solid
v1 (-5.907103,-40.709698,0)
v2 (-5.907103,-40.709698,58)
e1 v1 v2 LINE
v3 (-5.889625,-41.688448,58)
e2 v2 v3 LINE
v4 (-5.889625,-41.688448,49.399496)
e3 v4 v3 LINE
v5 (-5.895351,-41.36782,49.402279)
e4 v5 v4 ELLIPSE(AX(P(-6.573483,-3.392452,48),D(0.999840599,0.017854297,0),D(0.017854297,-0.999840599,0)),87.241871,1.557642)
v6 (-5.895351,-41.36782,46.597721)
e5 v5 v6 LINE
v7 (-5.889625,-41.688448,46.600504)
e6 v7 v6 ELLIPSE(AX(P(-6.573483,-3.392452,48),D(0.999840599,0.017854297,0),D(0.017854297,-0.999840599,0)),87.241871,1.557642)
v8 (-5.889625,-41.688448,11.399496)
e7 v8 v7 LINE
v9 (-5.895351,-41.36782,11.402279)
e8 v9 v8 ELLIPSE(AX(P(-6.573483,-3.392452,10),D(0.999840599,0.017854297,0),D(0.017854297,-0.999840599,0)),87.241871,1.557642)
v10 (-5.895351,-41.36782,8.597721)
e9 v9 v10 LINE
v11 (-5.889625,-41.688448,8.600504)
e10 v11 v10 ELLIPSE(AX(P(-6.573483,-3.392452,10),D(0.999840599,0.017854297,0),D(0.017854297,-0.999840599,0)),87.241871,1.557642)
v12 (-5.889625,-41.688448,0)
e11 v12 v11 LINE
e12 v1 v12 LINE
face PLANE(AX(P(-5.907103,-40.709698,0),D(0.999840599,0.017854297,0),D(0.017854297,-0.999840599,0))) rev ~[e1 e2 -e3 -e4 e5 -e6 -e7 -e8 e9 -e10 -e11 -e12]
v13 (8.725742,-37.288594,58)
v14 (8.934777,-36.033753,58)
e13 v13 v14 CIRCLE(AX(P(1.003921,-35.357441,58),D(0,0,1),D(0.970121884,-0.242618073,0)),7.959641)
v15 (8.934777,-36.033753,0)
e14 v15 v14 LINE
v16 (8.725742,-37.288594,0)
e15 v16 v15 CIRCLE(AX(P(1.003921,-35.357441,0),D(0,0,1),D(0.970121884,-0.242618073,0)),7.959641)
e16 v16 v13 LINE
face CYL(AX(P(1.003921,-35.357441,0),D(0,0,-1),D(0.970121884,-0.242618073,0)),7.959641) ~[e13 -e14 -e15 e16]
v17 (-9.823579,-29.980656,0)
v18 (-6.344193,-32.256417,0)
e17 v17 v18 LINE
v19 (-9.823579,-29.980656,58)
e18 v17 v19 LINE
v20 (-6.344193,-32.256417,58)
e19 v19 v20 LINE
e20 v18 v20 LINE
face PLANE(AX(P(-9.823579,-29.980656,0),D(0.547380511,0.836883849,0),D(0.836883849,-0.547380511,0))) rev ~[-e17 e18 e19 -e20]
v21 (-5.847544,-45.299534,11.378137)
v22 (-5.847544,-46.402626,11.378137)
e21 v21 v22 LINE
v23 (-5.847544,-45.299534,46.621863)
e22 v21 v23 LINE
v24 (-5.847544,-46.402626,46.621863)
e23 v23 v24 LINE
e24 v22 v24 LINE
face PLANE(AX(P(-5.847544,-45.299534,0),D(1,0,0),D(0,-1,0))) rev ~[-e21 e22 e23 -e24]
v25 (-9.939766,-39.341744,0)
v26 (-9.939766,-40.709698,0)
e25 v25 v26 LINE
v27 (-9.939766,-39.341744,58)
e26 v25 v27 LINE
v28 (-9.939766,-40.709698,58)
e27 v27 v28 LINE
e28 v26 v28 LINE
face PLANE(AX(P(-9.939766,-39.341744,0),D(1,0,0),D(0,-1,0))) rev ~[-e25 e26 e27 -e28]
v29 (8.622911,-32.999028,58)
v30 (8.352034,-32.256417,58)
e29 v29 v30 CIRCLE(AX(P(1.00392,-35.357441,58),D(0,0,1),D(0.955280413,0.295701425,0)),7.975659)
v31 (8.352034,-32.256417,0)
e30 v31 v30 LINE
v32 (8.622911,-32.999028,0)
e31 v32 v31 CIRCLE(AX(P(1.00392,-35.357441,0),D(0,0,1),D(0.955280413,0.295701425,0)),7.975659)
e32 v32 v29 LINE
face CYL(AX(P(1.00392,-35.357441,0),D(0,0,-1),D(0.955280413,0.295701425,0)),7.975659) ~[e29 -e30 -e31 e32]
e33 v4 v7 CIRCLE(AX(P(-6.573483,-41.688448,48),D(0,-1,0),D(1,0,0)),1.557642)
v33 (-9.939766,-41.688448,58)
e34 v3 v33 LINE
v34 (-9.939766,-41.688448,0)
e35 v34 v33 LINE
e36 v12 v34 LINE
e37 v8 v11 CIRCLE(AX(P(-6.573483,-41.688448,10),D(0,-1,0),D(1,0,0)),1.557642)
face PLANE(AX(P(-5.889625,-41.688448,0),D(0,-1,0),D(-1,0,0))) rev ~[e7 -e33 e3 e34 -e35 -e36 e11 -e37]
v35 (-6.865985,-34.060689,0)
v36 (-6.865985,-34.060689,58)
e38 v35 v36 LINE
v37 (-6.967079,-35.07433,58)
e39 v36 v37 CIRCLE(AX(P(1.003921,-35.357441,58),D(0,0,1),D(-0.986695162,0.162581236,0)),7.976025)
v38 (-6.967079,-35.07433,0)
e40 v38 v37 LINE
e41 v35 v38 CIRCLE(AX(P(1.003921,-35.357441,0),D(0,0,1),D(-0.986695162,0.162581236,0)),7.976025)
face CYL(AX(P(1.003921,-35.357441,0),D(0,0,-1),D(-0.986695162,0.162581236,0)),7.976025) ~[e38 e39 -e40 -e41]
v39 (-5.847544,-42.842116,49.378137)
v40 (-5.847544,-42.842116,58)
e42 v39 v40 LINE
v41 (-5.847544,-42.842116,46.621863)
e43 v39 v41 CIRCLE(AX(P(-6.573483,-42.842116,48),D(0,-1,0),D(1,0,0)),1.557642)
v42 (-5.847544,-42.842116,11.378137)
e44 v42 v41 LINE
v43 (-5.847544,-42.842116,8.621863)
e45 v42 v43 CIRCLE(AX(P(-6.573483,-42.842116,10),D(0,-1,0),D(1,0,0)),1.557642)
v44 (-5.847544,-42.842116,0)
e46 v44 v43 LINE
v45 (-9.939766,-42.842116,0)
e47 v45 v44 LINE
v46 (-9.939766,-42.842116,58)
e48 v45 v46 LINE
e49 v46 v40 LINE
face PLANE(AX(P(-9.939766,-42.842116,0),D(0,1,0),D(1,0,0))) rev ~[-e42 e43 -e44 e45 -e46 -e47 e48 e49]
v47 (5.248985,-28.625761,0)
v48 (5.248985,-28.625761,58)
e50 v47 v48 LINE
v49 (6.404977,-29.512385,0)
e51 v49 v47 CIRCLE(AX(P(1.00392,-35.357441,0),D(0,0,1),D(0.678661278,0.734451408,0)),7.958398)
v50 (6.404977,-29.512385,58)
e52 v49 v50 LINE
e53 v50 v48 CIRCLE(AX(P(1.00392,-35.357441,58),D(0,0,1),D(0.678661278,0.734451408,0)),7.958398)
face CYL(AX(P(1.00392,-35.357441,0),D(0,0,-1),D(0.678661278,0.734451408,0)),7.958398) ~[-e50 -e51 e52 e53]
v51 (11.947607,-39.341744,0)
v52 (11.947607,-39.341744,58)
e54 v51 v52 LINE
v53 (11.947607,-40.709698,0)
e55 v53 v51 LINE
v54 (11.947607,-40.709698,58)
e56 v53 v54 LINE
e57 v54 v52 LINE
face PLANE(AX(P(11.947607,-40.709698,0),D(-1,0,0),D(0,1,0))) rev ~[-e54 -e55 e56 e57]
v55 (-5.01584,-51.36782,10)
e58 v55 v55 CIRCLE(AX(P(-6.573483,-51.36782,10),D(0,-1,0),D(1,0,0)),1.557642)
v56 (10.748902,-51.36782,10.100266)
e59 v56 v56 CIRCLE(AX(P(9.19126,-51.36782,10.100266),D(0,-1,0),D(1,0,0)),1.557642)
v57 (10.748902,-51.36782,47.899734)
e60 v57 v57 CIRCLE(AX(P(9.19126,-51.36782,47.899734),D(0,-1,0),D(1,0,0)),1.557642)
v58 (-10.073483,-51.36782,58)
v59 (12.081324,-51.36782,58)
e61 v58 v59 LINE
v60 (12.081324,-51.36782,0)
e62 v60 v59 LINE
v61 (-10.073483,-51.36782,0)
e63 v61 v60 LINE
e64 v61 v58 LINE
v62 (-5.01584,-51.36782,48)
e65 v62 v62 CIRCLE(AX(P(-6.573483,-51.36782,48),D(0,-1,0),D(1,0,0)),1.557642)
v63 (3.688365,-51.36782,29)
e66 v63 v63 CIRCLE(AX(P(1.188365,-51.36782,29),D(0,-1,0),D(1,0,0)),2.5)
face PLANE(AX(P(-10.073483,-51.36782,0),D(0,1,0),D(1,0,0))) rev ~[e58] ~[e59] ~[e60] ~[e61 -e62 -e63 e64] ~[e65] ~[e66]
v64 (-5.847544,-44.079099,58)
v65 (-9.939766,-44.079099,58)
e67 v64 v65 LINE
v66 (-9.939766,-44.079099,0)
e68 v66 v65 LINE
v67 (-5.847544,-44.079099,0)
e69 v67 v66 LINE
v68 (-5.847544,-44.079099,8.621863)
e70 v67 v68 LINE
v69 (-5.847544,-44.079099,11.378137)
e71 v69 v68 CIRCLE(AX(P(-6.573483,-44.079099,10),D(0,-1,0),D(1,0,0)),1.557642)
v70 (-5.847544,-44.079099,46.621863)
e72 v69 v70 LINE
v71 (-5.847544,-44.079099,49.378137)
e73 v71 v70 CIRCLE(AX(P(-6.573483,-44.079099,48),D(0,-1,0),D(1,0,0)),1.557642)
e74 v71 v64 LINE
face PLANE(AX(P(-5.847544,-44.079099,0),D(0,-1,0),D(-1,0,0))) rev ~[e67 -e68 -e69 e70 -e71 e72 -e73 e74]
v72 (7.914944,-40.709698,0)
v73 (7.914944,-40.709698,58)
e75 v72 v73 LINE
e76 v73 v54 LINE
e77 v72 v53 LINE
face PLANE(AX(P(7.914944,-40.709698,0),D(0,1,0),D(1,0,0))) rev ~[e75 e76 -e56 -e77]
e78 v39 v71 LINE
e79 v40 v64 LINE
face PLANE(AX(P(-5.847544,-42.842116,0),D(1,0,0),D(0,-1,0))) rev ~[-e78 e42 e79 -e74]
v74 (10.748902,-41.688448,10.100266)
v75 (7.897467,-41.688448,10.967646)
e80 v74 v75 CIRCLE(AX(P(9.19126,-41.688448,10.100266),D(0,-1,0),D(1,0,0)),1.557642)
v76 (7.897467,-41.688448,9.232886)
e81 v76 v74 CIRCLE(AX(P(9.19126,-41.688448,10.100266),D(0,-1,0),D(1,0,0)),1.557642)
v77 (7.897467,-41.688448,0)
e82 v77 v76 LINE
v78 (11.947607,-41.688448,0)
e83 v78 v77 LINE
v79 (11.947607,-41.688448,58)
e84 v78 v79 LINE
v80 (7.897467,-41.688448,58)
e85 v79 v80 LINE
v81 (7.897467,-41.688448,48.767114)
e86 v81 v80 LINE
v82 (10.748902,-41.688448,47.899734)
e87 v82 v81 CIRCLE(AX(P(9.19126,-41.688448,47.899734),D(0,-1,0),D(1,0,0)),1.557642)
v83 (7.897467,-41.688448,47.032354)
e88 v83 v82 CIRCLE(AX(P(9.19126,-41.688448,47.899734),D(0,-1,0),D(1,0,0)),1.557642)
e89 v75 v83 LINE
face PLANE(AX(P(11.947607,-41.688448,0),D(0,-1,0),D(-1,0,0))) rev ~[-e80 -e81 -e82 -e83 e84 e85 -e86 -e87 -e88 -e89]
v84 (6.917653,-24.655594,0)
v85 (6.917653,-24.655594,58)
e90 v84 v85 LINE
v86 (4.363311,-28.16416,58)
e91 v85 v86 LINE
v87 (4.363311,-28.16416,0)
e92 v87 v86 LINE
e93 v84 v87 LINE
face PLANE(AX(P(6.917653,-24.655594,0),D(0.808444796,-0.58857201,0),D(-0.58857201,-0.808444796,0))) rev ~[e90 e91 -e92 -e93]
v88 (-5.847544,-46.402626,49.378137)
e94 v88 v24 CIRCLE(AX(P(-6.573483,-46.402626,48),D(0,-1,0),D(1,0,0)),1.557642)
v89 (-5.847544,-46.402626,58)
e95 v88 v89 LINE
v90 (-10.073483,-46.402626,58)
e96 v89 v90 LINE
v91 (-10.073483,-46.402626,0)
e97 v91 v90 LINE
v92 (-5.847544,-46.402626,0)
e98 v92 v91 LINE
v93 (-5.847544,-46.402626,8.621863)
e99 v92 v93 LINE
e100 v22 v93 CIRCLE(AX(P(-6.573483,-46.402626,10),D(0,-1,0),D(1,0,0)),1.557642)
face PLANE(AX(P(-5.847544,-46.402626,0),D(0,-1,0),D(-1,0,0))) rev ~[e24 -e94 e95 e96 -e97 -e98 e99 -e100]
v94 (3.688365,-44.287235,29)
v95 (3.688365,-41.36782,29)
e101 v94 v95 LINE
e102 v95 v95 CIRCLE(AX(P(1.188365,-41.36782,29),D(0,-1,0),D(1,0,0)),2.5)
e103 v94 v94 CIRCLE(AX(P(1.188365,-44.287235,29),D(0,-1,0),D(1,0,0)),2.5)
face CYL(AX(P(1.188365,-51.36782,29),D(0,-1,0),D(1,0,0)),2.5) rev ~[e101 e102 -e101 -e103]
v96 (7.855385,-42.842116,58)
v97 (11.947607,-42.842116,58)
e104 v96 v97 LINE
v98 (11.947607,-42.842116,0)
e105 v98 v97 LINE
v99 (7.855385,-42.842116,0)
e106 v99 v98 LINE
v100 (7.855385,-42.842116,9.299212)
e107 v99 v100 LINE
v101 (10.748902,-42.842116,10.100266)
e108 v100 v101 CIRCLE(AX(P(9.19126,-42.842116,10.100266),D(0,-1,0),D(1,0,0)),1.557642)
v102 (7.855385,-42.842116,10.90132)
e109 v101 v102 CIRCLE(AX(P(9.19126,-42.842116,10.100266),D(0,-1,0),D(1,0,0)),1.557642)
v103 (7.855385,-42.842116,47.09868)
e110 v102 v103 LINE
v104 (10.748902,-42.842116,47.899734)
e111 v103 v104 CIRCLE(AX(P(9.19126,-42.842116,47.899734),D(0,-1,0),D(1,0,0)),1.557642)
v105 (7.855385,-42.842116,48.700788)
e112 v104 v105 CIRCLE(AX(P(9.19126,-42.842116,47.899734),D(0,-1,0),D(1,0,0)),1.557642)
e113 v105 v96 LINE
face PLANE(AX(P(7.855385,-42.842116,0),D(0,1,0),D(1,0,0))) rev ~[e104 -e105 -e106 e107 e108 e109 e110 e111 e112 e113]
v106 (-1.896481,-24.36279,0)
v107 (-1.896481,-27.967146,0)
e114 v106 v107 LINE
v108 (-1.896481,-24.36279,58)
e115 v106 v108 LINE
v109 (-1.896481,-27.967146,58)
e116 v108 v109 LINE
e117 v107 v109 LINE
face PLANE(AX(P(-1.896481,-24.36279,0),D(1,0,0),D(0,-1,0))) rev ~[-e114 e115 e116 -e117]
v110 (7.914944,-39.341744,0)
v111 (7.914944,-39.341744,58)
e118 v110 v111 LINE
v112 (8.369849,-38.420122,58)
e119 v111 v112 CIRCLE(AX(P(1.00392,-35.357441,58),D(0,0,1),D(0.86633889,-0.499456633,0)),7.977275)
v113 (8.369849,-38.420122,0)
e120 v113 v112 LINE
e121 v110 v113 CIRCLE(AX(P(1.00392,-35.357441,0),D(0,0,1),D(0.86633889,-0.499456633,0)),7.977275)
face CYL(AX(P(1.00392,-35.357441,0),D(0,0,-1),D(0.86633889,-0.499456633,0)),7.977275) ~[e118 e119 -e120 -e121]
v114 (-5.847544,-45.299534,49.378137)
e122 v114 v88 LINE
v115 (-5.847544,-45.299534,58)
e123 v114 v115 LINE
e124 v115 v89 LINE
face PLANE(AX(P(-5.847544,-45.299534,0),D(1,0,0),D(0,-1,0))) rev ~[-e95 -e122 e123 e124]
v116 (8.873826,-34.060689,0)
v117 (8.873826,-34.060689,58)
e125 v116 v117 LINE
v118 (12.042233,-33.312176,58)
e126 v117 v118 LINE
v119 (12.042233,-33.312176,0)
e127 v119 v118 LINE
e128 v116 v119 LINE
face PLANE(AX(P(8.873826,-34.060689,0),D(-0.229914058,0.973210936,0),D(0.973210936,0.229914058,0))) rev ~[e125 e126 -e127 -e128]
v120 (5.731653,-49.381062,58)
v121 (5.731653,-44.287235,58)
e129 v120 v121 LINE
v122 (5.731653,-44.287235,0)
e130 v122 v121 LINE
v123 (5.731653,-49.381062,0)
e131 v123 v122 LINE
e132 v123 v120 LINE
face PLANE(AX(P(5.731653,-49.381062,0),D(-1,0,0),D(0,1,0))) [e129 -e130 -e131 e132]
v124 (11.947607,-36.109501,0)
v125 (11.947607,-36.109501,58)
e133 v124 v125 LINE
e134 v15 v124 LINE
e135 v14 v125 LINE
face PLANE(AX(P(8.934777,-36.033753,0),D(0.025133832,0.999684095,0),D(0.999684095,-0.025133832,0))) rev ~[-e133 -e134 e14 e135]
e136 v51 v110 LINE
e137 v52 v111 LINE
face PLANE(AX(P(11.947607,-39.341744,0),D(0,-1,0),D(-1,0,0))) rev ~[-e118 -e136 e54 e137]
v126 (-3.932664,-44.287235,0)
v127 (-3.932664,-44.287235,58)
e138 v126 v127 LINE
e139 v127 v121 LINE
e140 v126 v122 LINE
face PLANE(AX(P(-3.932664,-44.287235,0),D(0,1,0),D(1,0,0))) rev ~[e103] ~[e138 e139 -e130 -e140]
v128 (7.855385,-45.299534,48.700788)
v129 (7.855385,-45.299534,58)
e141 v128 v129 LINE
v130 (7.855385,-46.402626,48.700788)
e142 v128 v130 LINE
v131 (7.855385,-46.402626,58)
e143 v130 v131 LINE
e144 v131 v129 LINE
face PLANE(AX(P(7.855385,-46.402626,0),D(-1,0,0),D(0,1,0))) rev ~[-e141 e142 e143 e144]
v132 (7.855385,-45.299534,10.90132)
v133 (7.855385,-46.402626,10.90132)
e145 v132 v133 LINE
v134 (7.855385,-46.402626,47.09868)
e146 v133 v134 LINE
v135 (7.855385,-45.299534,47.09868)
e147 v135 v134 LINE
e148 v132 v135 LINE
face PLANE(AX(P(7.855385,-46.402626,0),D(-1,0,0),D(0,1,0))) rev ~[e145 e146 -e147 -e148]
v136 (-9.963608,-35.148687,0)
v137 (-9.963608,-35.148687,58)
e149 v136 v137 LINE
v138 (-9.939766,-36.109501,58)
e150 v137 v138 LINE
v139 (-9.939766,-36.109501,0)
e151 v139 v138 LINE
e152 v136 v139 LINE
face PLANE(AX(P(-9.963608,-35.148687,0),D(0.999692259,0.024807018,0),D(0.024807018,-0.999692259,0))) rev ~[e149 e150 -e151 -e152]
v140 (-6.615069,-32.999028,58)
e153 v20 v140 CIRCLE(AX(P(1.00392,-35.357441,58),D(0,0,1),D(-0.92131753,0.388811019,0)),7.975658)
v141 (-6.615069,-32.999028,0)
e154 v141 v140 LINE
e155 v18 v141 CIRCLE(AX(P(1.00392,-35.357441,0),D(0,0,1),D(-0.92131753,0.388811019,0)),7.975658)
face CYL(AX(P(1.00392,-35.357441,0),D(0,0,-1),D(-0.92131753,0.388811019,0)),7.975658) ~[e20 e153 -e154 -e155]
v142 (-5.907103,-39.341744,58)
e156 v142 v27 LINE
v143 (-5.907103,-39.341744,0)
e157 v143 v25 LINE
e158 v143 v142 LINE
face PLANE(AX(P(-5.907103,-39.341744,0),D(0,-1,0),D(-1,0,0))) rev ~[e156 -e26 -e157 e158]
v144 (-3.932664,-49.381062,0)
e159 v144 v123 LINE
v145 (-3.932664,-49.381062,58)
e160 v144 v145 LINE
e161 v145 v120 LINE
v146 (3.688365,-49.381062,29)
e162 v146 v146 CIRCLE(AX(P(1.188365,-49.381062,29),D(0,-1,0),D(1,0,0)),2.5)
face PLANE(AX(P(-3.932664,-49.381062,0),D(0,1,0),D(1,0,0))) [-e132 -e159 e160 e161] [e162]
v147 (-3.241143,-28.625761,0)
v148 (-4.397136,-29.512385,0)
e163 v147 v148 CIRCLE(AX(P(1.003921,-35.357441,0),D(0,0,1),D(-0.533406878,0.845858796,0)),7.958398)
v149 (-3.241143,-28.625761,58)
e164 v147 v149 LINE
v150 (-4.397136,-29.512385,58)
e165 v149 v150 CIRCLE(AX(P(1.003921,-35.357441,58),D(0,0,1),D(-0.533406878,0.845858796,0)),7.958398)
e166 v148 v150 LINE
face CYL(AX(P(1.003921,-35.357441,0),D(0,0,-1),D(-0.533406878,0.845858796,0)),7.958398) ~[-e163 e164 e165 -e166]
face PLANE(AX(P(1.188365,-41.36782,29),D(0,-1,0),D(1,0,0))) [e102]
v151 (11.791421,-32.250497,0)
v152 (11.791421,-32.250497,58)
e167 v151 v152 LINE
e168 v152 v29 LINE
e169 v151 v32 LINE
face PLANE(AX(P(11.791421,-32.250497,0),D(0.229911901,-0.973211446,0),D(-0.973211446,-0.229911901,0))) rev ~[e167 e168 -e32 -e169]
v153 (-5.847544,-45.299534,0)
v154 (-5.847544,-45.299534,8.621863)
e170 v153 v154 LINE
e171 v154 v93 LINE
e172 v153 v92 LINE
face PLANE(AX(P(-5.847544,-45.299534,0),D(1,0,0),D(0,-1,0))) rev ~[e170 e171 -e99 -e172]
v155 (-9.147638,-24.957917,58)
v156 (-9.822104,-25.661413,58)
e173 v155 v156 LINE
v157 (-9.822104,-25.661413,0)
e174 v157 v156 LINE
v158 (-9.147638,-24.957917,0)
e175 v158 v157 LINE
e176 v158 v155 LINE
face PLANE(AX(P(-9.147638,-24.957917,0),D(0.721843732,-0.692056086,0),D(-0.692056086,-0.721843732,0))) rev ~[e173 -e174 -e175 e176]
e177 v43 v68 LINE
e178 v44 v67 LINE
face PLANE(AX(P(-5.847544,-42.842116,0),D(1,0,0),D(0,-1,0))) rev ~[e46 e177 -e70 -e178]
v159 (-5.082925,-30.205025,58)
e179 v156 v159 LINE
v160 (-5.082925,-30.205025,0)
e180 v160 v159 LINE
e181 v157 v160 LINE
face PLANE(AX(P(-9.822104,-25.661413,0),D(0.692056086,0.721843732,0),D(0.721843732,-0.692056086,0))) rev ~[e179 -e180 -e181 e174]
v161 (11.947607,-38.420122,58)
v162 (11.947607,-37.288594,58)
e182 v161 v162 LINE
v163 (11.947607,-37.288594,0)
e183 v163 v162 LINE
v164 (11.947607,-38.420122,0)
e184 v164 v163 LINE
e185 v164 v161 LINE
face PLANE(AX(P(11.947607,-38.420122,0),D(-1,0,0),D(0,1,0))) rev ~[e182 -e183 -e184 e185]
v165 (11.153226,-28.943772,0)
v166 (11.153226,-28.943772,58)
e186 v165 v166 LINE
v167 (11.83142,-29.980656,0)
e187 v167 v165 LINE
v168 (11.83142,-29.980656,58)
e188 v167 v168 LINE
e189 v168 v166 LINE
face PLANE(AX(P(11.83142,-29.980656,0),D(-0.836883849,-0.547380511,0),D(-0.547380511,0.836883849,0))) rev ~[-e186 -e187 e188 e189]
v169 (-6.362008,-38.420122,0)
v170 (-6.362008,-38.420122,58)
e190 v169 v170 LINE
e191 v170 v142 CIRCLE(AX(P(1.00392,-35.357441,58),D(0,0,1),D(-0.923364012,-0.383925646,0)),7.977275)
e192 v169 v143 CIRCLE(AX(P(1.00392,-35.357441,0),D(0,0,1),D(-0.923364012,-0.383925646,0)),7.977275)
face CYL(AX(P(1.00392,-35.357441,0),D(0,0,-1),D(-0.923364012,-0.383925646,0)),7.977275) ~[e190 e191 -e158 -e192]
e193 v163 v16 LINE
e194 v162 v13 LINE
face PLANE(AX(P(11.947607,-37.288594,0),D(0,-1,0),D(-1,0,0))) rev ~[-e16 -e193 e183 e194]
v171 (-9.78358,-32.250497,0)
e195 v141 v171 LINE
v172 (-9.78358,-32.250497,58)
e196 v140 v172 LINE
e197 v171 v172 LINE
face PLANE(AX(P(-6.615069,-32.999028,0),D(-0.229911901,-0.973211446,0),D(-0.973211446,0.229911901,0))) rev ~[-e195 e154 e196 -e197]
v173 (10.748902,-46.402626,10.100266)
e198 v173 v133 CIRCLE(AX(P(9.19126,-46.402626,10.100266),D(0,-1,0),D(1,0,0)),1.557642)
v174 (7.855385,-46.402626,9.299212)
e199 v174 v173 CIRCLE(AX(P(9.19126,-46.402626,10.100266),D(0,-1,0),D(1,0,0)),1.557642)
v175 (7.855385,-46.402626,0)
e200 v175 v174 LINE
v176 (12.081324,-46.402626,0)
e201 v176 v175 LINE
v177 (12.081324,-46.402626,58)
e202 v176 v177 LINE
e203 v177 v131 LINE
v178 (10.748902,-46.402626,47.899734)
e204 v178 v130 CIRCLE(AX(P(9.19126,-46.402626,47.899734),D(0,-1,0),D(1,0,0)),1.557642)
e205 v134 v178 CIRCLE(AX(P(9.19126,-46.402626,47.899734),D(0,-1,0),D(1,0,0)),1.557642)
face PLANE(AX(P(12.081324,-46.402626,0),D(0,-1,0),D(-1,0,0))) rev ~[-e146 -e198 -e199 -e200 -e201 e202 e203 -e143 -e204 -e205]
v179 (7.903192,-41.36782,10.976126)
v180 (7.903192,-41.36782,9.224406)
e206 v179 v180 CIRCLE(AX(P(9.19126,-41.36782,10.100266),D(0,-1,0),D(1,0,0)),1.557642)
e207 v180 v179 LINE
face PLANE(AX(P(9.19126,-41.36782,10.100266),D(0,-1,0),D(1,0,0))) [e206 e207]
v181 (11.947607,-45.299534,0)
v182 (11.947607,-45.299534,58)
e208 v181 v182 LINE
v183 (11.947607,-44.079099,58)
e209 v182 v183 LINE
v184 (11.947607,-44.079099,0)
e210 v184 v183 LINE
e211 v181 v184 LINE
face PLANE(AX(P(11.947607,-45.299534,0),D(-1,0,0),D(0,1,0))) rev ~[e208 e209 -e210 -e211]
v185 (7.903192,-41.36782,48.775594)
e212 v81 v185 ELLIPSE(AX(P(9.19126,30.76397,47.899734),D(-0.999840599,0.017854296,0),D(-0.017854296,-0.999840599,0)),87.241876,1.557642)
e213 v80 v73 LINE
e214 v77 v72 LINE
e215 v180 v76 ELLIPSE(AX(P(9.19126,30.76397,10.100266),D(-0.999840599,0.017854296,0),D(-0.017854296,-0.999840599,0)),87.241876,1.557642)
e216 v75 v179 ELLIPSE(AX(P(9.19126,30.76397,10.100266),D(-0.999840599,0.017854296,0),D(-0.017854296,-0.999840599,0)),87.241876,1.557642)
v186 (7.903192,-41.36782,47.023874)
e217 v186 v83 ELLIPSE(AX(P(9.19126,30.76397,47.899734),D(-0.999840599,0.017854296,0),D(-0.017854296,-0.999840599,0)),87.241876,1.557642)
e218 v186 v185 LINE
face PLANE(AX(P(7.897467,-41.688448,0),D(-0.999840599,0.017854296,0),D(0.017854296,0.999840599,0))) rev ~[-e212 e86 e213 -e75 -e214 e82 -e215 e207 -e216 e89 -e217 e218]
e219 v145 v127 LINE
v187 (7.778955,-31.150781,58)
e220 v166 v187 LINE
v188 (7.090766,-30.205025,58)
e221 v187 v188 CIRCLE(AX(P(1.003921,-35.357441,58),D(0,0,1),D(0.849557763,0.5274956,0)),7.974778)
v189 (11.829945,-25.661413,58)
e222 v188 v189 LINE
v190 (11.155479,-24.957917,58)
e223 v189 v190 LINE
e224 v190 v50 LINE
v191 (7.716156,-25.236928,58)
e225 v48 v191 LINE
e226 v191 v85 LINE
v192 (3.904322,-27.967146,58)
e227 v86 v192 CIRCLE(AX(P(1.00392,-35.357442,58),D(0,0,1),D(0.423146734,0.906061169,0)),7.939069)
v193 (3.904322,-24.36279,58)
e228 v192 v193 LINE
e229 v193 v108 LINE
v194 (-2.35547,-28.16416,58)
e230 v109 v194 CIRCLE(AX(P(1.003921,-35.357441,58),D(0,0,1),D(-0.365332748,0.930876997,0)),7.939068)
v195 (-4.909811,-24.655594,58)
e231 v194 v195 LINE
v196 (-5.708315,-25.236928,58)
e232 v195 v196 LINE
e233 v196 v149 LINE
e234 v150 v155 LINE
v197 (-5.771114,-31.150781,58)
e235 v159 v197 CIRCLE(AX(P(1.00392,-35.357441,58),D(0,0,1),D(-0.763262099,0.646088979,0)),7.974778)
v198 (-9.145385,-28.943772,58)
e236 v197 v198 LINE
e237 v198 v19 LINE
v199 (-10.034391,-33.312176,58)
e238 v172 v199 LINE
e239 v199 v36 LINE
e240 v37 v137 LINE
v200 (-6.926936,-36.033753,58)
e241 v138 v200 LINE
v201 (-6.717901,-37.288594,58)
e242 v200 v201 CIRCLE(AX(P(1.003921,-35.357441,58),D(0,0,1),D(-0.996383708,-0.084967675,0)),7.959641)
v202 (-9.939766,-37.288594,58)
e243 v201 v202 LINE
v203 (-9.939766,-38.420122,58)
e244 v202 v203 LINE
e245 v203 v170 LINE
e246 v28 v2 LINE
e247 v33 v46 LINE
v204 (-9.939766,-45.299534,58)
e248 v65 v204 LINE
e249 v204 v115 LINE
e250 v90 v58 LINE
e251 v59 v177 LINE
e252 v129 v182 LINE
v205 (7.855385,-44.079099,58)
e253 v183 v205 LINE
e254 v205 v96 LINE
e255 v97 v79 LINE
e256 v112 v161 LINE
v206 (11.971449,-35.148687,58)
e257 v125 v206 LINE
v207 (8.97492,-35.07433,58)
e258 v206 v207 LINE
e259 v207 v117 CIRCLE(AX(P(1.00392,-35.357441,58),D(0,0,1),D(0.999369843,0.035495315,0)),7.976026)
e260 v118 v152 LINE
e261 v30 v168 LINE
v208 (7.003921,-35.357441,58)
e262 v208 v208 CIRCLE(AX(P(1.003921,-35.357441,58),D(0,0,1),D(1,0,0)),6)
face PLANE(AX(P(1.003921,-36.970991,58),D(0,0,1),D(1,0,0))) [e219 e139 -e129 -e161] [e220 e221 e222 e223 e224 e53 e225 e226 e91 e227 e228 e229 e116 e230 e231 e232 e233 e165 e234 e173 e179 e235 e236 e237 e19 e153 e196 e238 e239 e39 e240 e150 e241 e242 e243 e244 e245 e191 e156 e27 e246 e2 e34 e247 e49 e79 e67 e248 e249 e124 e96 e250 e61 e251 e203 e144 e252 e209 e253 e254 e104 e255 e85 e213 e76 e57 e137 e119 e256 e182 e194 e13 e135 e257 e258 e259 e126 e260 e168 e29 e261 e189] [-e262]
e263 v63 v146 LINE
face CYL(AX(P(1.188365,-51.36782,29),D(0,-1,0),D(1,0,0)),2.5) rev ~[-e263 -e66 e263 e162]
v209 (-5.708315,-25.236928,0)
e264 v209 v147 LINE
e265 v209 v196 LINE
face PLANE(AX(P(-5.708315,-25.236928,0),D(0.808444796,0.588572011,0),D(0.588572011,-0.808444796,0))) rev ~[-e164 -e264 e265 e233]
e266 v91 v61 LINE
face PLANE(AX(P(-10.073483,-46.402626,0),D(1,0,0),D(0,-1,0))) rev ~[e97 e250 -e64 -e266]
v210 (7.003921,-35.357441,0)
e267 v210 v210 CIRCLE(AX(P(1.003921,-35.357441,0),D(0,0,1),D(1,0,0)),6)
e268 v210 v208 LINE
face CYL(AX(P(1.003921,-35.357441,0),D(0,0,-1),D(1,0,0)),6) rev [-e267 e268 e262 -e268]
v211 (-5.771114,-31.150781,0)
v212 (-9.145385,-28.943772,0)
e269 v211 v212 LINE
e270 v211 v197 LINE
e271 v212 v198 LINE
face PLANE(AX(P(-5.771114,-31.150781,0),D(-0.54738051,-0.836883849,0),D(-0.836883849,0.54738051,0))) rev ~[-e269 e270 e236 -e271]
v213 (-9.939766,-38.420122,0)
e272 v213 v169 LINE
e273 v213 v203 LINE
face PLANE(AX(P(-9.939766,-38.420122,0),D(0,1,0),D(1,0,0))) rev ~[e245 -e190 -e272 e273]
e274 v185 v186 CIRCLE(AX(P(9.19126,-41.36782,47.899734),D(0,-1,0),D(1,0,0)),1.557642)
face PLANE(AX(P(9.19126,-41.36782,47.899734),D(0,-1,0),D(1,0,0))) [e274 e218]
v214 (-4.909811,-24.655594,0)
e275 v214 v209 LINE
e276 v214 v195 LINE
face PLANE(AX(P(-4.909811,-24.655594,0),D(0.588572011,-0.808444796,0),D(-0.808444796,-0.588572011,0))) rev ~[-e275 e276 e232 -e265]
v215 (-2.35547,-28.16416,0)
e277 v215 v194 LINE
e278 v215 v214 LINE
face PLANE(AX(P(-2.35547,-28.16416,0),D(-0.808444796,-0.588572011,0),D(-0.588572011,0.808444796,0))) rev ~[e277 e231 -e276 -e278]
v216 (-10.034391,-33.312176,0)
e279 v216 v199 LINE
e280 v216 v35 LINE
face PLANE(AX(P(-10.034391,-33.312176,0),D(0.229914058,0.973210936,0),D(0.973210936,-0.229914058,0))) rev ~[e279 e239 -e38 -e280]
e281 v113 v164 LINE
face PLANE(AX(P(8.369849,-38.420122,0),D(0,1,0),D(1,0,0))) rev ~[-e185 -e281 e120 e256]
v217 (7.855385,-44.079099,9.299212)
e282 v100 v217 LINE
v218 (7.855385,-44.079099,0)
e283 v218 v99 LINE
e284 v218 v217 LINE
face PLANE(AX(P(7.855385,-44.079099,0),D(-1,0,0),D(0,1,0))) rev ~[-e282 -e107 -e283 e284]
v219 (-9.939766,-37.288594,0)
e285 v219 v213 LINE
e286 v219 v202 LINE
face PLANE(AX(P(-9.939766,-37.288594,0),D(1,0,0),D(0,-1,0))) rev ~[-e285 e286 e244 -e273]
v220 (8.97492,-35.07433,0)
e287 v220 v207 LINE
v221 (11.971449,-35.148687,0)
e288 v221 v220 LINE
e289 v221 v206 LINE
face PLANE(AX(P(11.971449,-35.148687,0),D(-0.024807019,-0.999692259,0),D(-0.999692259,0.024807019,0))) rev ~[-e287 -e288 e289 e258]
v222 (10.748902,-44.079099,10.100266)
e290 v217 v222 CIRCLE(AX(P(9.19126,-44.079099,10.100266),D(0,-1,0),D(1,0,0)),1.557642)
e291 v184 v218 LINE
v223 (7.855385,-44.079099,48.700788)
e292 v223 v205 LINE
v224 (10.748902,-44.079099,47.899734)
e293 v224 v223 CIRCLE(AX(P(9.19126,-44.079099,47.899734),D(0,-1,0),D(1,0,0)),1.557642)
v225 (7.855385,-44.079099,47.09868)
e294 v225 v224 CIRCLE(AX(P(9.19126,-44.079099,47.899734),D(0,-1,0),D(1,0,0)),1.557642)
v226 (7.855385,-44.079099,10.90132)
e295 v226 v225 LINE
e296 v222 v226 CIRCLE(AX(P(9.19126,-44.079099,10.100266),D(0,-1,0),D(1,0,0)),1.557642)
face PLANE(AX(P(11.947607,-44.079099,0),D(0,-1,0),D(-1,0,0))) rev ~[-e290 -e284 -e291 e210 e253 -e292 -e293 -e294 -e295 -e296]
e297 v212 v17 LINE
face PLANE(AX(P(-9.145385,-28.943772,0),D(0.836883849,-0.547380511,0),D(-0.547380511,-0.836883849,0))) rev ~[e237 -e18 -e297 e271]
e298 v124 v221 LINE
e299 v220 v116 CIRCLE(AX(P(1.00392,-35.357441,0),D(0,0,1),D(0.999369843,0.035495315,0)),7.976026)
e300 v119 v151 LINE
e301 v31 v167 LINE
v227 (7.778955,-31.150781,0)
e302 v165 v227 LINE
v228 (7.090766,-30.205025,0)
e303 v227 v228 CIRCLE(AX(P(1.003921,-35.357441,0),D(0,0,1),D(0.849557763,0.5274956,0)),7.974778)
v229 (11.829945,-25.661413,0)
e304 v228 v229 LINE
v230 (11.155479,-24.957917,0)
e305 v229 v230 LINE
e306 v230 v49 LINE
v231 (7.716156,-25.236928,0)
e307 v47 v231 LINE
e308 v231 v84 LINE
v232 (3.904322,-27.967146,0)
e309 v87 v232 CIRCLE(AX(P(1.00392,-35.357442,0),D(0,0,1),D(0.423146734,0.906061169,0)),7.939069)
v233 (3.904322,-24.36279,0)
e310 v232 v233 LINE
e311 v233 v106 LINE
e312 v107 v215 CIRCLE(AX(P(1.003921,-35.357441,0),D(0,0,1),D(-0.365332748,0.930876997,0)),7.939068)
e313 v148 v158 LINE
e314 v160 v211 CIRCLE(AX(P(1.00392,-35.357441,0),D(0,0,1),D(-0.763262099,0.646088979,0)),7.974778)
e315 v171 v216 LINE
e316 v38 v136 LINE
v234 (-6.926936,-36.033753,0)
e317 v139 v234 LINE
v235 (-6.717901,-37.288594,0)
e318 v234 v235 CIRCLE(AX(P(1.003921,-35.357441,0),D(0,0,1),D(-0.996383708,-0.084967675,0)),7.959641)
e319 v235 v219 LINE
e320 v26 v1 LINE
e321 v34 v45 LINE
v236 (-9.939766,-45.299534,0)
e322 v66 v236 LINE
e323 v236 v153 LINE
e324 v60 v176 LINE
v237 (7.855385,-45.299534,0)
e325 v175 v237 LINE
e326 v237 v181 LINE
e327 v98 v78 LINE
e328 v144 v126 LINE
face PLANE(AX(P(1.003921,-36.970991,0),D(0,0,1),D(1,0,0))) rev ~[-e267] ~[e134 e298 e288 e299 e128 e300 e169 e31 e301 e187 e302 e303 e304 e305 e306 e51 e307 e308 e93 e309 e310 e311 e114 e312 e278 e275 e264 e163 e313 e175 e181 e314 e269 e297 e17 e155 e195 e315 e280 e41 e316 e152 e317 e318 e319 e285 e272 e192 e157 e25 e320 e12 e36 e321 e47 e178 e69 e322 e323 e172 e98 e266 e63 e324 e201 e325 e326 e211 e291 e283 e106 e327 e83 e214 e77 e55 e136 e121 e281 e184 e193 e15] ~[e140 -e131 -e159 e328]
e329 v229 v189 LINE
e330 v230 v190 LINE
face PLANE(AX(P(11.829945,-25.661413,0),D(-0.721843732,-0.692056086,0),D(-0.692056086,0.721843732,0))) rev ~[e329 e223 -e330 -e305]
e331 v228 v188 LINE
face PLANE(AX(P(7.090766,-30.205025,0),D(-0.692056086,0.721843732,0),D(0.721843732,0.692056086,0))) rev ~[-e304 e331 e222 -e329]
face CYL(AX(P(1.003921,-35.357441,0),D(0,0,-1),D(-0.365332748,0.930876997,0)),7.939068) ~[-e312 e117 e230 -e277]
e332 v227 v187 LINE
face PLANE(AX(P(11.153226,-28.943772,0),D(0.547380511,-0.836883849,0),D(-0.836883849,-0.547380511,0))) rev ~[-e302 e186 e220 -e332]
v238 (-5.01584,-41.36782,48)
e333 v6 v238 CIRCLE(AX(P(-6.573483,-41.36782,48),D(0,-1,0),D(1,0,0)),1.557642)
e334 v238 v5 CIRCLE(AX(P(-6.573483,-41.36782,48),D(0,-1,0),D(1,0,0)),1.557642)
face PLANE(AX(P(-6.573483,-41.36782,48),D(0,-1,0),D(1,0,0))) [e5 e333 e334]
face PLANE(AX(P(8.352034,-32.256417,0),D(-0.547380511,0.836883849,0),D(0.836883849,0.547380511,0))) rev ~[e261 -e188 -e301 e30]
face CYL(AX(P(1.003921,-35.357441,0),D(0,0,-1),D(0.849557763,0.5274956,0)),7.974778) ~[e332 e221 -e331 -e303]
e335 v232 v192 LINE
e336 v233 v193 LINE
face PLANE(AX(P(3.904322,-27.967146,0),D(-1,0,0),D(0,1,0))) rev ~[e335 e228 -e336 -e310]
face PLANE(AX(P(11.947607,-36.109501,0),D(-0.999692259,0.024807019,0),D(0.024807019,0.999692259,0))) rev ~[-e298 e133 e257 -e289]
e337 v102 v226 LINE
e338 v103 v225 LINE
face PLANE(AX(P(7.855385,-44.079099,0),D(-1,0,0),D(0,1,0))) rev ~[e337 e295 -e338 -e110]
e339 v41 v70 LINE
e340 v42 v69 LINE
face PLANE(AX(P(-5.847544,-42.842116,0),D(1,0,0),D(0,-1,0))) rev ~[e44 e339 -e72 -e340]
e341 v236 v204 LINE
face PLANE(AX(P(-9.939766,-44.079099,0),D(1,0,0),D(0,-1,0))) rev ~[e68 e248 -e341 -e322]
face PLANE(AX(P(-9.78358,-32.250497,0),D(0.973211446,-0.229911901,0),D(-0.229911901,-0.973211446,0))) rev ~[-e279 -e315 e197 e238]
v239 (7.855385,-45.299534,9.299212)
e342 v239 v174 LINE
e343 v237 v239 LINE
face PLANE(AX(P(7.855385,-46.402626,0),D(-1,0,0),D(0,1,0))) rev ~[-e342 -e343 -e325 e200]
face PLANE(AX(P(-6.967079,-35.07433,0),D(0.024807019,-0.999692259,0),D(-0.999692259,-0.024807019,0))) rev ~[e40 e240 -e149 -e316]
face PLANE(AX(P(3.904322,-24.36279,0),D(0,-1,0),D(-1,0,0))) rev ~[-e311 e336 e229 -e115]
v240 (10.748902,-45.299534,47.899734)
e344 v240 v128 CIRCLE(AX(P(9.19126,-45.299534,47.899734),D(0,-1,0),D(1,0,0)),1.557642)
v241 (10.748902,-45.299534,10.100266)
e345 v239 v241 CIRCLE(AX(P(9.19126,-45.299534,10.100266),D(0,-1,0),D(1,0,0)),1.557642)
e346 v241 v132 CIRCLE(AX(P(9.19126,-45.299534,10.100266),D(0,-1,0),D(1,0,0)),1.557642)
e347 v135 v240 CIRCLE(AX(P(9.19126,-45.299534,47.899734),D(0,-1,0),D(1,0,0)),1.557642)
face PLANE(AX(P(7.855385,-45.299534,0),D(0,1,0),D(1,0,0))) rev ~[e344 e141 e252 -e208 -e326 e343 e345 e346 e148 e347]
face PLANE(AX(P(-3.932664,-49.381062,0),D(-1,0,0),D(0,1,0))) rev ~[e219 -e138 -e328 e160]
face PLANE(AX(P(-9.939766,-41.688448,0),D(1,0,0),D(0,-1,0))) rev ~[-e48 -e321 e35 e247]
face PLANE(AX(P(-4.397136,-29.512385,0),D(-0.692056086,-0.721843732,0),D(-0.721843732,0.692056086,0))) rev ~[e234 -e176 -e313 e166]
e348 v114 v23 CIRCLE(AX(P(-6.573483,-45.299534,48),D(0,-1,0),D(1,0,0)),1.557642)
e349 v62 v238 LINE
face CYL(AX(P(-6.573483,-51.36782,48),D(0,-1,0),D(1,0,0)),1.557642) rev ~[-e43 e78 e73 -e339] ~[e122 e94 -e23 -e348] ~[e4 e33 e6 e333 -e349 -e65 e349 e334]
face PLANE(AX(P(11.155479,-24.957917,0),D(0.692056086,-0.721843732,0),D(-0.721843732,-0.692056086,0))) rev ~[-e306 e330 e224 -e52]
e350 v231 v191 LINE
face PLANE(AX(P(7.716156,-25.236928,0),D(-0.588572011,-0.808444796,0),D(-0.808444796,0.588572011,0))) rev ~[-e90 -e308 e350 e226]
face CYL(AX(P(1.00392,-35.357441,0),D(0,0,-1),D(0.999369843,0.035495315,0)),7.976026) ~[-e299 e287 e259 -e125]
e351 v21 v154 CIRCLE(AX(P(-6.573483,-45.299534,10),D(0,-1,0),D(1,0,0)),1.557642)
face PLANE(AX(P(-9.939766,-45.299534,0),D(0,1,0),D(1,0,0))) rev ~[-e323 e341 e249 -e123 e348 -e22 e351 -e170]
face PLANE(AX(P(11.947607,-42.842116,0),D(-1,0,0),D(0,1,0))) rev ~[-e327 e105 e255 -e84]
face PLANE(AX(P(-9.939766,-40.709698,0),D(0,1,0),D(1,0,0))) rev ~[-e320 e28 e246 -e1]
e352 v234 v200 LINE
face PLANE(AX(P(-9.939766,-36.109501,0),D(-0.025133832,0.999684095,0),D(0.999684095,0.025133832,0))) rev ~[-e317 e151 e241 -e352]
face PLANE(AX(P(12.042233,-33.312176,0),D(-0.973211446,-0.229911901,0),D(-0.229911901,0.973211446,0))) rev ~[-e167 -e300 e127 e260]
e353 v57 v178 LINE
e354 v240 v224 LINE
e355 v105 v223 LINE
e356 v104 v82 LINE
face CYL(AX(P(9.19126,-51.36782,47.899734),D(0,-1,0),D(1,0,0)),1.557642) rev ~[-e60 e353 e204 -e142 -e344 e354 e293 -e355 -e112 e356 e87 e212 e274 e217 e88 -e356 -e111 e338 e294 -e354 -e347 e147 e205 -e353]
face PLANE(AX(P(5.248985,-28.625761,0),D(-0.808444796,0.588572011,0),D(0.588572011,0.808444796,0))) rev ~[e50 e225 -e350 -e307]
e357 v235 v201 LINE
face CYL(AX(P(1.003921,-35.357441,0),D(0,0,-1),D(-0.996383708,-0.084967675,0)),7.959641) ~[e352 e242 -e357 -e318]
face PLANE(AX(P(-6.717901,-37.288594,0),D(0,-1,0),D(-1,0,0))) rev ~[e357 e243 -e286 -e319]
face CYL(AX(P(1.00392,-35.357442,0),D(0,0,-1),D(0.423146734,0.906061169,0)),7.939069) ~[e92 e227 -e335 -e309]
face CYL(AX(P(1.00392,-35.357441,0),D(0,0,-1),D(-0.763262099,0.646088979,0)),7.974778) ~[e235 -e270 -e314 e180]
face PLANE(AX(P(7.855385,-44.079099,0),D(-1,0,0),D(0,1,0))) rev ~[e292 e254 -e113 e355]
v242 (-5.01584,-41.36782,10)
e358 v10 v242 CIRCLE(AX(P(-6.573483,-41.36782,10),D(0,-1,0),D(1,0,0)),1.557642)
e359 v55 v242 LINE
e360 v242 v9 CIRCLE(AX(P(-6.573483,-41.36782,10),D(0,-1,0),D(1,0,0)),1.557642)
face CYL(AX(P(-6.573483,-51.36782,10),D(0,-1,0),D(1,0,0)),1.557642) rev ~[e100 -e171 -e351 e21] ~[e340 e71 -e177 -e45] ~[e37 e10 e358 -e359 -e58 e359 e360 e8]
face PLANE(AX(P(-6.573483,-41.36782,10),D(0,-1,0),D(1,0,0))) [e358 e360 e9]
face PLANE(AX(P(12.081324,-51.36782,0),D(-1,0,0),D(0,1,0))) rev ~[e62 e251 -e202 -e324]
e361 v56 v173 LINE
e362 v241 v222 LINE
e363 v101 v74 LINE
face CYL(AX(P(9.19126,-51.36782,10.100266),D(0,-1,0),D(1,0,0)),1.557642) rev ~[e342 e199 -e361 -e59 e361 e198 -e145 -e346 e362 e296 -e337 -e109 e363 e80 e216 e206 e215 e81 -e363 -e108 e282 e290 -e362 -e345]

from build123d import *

# Parameters (mm, degrees)
SKETCH1_R           = 6
SKETCH1_W           = 9.664317132
SKETCH1_H           = 5.093827802
BOSS_EXTRUDE1_DEPTH = 58
SKETCH2_R           = 2.5
SKETCH2_R_2         = 1.557642262
CUT_EXTRUDE1_DEPTH  = 10


with BuildPart() as part:
    # Sketch1 → Boss-Extrude1 (new body)
    with BuildSketch(Plane.XY):
        with BuildLine():
            Line((-9.822104082, -25.661413332), (-5.082925118, -30.205025059))
            ThreePointArc((-5.082925118, -30.205025059), (-5.444381805, -30.665269108), (-5.771113852, -31.15078089))
            Line((-5.771113852, -31.15078089), (-9.145384533, -28.943772104))
            Line((-9.145384533, -28.943772104), (-9.823578986, -29.980655904))
            Line((-9.823578986, -29.980655904), (-6.344193142, -32.256417352))
            ThreePointArc((-6.344193142, -32.256417352), (-6.488837019, -32.624364602), (-6.615069482, -32.999027645))
            Line((-6.615069482, -32.999027645), (-9.783580045, -32.250497314))
            Line((-9.783580045, -32.250497314), (-10.034391467, -33.312175922))
            Line((-10.034391467, -33.312175922), (-6.865985046, -34.060689065))
            ThreePointArc((-6.865985046, -34.060689065), (-6.932730681, -34.565893765), (-6.967078624, -35.074329589))
            Line((-6.967078624, -35.074329589), (-9.963607891, -35.148687431))
            Line((-9.963607891, -35.148687431), (-9.93976563, -36.109501168))
            Line((-9.93976563, -36.109501168), (-6.926935836, -36.033753282))
            ThreePointArc((-6.926935836, -36.033753282), (-6.847527662, -36.665356301), (-6.717901152, -37.288593816))
            Line((-6.717901152, -37.288593816), (-9.93976563, -37.288593816))
            Line((-9.93976563, -37.288593816), (-9.93976563, -38.42012165))
            Line((-9.93976563, -38.42012165), (-6.362008263, -38.42012165))
            ThreePointArc((-6.362008263, -38.42012165), (-6.149413668, -38.888266643), (-5.907103174, -39.341744119))
            Line((-5.907103174, -39.341744119), (-9.93976563, -39.341744119))
            Line((-9.93976563, -39.341744119), (-9.93976563, -40.709698074))
            Line((-9.93976563, -40.709698074), (-5.907103174, -40.709698074))
            Line((-5.907103174, -40.709698074), (-5.889625491, -41.688448301))
            Line((-5.889625491, -41.688448301), (-9.93976563, -41.688448301))
            Line((-9.93976563, -41.688448301), (-9.93976563, -42.842115912))
            Line((-9.93976563, -42.842115912), (-5.847543839, -42.842115912))
            Line((-5.847543839, -42.842115912), (-5.847543839, -44.079099033))
            Line((-5.847543839, -44.079099033), (-9.93976563, -44.079099033))
            Line((-9.93976563, -44.079099033), (-9.93976563, -45.299533915))
            Line((-9.93976563, -45.299533915), (-5.847543839, -45.299533915))
            Line((-5.847543839, -45.299533915), (-5.847543839, -46.402625605))
            Line((-5.847543839, -46.402625605), (-10.073482588, -46.402625605))
            Line((-10.073482588, -46.402625605), (-10.073482588, -51.367819628))
            Line((-10.073482588, -51.367819628), (-5.904369685, -51.367819628))
            Line((-5.904369685, -51.367819628), (1.003920553, -51.367819628))
            Line((1.003920553, -51.367819628), (7.912210791, -51.367819628))
            Line((7.912210791, -51.367819628), (12.081323694, -51.367819628))
            Line((12.081323694, -51.367819628), (12.081323694, -46.402625605))
            Line((12.081323694, -46.402625605), (7.855384945, -46.402625605))
            Line((7.855384945, -46.402625605), (7.855384945, -45.299533915))
            Line((7.855384945, -45.299533915), (11.947606735, -45.299533915))
            Line((11.947606735, -45.299533915), (11.947606735, -44.079099033))
            Line((11.947606735, -44.079099033), (7.855384945, -44.079099033))
            Line((7.855384945, -44.079099033), (7.855384945, -42.842115912))
            Line((7.855384945, -42.842115912), (11.947606735, -42.842115912))
            Line((11.947606735, -42.842115912), (11.947606735, -41.688448301))
            Line((11.947606735, -41.688448301), (7.897466597, -41.688448301))
            Line((7.897466597, -41.688448301), (7.914944279, -40.709698074))
            Line((7.914944279, -40.709698074), (11.947606735, -40.709698074))
            Line((11.947606735, -40.709698074), (11.947606735, -39.341744119))
            Line((11.947606735, -39.341744119), (7.914944279, -39.341744119))
            ThreePointArc((7.914944279, -39.341744119), (8.157254773, -38.888266643), (8.369849369, -38.42012165))
            Line((8.369849369, -38.42012165), (11.947606735, -38.42012165))
            Line((11.947606735, -38.42012165), (11.947606735, -37.288593816))
            Line((11.947606735, -37.288593816), (8.725742258, -37.288593816))
            ThreePointArc((8.725742258, -37.288593816), (8.855368768, -36.665356301), (8.934776942, -36.033753282))
            Line((8.934776942, -36.033753282), (11.947606735, -36.109501168))
            Line((11.947606735, -36.109501168), (11.971448997, -35.148687431))
            Line((11.971448997, -35.148687431), (8.974919729, -35.074329589))
            ThreePointArc((8.974919729, -35.074329589), (8.940571786, -34.565893765), (8.873826152, -34.060689065))
            Line((8.873826152, -34.060689065), (12.042232573, -33.312175922))
            Line((12.042232573, -33.312175922), (11.791421151, -32.250497314))
            Line((11.791421151, -32.250497314), (8.622910588, -32.999027645))
            ThreePointArc((8.622910588, -32.999027645), (8.496678124, -32.624364602), (8.352034248, -32.256417352))
            Line((8.352034248, -32.256417352), (11.831420091, -29.980655904))
            Line((11.831420091, -29.980655904), (11.153225638, -28.943772104))
            Line((11.153225638, -28.943772104), (7.778954958, -31.15078089))
            ThreePointArc((7.778954958, -31.15078089), (7.452222911, -30.665269108), (7.090766224, -30.205025059))
            Line((7.090766224, -30.205025059), (11.829945188, -25.661413332))
            Line((11.829945188, -25.661413332), (11.155479277, -24.957916896))
            Line((11.155479277, -24.957916896), (6.404976787, -29.512384871))
            ThreePointArc((6.404976787, -29.512384871), (5.847311339, -29.042565295), (5.248984501, -28.625760566))
            Line((5.248984501, -28.625760566), (7.716155949, -25.236928133))
            Line((7.716155949, -25.236928133), (6.917652539, -24.655593749))
            Line((6.917652539, -24.655593749), (4.363311136, -28.164160209))
            ThreePointArc((4.363311136, -28.164160209), (4.135366319, -28.062042381), (3.904321948, -27.967145652))
            Line((3.904321948, -27.967145652), (3.904321948, -24.362789588))
            Line((3.904321948, -24.362789588), (-1.896480842, -24.362789588))
            Line((-1.896480842, -24.362789588), (-1.896480842, -27.967145652))
            ThreePointArc((-1.896480842, -27.967145652), (-2.127525214, -28.062042381), (-2.35547003, -28.164160209))
            Line((-2.35547003, -28.164160209), (-4.909811434, -24.655593749))
            Line((-4.909811434, -24.655593749), (-5.708314844, -25.236928133))
            Line((-5.708314844, -25.236928133), (-3.241143396, -28.625760566))
            ThreePointArc((-3.241143396, -28.625760566), (-3.839470233, -29.042565295), (-4.397135681, -29.512384871))
            Line((-4.397135681, -29.512384871), (-9.147638171, -24.957916896))
            Line((-9.147638171, -24.957916896), (-9.822104082, -25.661413332))
        make_face()
        with Locations((1.003920553, -35.357441113)):
            Circle(SKETCH1_R, mode=Mode.SUBTRACT)
        with Locations((0.899494134, -46.834148598)):
            Rectangle(SKETCH1_W, SKETCH1_H, mode=Mode.SUBTRACT)
    extrude(amount=BOSS_EXTRUDE1_DEPTH)

    # Sketch2 → Cut-Extrude1 (cut)
    with BuildSketch(Plane.XZ.offset(51.367819628)):
        with Locations((1.188364706, 29)):
            Circle(SKETCH2_R)
        with Locations((-6.573482588, 10)):
            Circle(SKETCH2_R_2)
        with Locations((9.191259736, 10.100266019)):
            Circle(SKETCH2_R_2)
        with Locations((9.191259736, 47.899733981)):
            Circle(SKETCH2_R_2)
        with Locations((-6.573482588, 48)):
            Circle(SKETCH2_R_2)
    extrude(amount=-CUT_EXTRUDE1_DEPTH, mode=Mode.SUBTRACT)


solid = part.part
